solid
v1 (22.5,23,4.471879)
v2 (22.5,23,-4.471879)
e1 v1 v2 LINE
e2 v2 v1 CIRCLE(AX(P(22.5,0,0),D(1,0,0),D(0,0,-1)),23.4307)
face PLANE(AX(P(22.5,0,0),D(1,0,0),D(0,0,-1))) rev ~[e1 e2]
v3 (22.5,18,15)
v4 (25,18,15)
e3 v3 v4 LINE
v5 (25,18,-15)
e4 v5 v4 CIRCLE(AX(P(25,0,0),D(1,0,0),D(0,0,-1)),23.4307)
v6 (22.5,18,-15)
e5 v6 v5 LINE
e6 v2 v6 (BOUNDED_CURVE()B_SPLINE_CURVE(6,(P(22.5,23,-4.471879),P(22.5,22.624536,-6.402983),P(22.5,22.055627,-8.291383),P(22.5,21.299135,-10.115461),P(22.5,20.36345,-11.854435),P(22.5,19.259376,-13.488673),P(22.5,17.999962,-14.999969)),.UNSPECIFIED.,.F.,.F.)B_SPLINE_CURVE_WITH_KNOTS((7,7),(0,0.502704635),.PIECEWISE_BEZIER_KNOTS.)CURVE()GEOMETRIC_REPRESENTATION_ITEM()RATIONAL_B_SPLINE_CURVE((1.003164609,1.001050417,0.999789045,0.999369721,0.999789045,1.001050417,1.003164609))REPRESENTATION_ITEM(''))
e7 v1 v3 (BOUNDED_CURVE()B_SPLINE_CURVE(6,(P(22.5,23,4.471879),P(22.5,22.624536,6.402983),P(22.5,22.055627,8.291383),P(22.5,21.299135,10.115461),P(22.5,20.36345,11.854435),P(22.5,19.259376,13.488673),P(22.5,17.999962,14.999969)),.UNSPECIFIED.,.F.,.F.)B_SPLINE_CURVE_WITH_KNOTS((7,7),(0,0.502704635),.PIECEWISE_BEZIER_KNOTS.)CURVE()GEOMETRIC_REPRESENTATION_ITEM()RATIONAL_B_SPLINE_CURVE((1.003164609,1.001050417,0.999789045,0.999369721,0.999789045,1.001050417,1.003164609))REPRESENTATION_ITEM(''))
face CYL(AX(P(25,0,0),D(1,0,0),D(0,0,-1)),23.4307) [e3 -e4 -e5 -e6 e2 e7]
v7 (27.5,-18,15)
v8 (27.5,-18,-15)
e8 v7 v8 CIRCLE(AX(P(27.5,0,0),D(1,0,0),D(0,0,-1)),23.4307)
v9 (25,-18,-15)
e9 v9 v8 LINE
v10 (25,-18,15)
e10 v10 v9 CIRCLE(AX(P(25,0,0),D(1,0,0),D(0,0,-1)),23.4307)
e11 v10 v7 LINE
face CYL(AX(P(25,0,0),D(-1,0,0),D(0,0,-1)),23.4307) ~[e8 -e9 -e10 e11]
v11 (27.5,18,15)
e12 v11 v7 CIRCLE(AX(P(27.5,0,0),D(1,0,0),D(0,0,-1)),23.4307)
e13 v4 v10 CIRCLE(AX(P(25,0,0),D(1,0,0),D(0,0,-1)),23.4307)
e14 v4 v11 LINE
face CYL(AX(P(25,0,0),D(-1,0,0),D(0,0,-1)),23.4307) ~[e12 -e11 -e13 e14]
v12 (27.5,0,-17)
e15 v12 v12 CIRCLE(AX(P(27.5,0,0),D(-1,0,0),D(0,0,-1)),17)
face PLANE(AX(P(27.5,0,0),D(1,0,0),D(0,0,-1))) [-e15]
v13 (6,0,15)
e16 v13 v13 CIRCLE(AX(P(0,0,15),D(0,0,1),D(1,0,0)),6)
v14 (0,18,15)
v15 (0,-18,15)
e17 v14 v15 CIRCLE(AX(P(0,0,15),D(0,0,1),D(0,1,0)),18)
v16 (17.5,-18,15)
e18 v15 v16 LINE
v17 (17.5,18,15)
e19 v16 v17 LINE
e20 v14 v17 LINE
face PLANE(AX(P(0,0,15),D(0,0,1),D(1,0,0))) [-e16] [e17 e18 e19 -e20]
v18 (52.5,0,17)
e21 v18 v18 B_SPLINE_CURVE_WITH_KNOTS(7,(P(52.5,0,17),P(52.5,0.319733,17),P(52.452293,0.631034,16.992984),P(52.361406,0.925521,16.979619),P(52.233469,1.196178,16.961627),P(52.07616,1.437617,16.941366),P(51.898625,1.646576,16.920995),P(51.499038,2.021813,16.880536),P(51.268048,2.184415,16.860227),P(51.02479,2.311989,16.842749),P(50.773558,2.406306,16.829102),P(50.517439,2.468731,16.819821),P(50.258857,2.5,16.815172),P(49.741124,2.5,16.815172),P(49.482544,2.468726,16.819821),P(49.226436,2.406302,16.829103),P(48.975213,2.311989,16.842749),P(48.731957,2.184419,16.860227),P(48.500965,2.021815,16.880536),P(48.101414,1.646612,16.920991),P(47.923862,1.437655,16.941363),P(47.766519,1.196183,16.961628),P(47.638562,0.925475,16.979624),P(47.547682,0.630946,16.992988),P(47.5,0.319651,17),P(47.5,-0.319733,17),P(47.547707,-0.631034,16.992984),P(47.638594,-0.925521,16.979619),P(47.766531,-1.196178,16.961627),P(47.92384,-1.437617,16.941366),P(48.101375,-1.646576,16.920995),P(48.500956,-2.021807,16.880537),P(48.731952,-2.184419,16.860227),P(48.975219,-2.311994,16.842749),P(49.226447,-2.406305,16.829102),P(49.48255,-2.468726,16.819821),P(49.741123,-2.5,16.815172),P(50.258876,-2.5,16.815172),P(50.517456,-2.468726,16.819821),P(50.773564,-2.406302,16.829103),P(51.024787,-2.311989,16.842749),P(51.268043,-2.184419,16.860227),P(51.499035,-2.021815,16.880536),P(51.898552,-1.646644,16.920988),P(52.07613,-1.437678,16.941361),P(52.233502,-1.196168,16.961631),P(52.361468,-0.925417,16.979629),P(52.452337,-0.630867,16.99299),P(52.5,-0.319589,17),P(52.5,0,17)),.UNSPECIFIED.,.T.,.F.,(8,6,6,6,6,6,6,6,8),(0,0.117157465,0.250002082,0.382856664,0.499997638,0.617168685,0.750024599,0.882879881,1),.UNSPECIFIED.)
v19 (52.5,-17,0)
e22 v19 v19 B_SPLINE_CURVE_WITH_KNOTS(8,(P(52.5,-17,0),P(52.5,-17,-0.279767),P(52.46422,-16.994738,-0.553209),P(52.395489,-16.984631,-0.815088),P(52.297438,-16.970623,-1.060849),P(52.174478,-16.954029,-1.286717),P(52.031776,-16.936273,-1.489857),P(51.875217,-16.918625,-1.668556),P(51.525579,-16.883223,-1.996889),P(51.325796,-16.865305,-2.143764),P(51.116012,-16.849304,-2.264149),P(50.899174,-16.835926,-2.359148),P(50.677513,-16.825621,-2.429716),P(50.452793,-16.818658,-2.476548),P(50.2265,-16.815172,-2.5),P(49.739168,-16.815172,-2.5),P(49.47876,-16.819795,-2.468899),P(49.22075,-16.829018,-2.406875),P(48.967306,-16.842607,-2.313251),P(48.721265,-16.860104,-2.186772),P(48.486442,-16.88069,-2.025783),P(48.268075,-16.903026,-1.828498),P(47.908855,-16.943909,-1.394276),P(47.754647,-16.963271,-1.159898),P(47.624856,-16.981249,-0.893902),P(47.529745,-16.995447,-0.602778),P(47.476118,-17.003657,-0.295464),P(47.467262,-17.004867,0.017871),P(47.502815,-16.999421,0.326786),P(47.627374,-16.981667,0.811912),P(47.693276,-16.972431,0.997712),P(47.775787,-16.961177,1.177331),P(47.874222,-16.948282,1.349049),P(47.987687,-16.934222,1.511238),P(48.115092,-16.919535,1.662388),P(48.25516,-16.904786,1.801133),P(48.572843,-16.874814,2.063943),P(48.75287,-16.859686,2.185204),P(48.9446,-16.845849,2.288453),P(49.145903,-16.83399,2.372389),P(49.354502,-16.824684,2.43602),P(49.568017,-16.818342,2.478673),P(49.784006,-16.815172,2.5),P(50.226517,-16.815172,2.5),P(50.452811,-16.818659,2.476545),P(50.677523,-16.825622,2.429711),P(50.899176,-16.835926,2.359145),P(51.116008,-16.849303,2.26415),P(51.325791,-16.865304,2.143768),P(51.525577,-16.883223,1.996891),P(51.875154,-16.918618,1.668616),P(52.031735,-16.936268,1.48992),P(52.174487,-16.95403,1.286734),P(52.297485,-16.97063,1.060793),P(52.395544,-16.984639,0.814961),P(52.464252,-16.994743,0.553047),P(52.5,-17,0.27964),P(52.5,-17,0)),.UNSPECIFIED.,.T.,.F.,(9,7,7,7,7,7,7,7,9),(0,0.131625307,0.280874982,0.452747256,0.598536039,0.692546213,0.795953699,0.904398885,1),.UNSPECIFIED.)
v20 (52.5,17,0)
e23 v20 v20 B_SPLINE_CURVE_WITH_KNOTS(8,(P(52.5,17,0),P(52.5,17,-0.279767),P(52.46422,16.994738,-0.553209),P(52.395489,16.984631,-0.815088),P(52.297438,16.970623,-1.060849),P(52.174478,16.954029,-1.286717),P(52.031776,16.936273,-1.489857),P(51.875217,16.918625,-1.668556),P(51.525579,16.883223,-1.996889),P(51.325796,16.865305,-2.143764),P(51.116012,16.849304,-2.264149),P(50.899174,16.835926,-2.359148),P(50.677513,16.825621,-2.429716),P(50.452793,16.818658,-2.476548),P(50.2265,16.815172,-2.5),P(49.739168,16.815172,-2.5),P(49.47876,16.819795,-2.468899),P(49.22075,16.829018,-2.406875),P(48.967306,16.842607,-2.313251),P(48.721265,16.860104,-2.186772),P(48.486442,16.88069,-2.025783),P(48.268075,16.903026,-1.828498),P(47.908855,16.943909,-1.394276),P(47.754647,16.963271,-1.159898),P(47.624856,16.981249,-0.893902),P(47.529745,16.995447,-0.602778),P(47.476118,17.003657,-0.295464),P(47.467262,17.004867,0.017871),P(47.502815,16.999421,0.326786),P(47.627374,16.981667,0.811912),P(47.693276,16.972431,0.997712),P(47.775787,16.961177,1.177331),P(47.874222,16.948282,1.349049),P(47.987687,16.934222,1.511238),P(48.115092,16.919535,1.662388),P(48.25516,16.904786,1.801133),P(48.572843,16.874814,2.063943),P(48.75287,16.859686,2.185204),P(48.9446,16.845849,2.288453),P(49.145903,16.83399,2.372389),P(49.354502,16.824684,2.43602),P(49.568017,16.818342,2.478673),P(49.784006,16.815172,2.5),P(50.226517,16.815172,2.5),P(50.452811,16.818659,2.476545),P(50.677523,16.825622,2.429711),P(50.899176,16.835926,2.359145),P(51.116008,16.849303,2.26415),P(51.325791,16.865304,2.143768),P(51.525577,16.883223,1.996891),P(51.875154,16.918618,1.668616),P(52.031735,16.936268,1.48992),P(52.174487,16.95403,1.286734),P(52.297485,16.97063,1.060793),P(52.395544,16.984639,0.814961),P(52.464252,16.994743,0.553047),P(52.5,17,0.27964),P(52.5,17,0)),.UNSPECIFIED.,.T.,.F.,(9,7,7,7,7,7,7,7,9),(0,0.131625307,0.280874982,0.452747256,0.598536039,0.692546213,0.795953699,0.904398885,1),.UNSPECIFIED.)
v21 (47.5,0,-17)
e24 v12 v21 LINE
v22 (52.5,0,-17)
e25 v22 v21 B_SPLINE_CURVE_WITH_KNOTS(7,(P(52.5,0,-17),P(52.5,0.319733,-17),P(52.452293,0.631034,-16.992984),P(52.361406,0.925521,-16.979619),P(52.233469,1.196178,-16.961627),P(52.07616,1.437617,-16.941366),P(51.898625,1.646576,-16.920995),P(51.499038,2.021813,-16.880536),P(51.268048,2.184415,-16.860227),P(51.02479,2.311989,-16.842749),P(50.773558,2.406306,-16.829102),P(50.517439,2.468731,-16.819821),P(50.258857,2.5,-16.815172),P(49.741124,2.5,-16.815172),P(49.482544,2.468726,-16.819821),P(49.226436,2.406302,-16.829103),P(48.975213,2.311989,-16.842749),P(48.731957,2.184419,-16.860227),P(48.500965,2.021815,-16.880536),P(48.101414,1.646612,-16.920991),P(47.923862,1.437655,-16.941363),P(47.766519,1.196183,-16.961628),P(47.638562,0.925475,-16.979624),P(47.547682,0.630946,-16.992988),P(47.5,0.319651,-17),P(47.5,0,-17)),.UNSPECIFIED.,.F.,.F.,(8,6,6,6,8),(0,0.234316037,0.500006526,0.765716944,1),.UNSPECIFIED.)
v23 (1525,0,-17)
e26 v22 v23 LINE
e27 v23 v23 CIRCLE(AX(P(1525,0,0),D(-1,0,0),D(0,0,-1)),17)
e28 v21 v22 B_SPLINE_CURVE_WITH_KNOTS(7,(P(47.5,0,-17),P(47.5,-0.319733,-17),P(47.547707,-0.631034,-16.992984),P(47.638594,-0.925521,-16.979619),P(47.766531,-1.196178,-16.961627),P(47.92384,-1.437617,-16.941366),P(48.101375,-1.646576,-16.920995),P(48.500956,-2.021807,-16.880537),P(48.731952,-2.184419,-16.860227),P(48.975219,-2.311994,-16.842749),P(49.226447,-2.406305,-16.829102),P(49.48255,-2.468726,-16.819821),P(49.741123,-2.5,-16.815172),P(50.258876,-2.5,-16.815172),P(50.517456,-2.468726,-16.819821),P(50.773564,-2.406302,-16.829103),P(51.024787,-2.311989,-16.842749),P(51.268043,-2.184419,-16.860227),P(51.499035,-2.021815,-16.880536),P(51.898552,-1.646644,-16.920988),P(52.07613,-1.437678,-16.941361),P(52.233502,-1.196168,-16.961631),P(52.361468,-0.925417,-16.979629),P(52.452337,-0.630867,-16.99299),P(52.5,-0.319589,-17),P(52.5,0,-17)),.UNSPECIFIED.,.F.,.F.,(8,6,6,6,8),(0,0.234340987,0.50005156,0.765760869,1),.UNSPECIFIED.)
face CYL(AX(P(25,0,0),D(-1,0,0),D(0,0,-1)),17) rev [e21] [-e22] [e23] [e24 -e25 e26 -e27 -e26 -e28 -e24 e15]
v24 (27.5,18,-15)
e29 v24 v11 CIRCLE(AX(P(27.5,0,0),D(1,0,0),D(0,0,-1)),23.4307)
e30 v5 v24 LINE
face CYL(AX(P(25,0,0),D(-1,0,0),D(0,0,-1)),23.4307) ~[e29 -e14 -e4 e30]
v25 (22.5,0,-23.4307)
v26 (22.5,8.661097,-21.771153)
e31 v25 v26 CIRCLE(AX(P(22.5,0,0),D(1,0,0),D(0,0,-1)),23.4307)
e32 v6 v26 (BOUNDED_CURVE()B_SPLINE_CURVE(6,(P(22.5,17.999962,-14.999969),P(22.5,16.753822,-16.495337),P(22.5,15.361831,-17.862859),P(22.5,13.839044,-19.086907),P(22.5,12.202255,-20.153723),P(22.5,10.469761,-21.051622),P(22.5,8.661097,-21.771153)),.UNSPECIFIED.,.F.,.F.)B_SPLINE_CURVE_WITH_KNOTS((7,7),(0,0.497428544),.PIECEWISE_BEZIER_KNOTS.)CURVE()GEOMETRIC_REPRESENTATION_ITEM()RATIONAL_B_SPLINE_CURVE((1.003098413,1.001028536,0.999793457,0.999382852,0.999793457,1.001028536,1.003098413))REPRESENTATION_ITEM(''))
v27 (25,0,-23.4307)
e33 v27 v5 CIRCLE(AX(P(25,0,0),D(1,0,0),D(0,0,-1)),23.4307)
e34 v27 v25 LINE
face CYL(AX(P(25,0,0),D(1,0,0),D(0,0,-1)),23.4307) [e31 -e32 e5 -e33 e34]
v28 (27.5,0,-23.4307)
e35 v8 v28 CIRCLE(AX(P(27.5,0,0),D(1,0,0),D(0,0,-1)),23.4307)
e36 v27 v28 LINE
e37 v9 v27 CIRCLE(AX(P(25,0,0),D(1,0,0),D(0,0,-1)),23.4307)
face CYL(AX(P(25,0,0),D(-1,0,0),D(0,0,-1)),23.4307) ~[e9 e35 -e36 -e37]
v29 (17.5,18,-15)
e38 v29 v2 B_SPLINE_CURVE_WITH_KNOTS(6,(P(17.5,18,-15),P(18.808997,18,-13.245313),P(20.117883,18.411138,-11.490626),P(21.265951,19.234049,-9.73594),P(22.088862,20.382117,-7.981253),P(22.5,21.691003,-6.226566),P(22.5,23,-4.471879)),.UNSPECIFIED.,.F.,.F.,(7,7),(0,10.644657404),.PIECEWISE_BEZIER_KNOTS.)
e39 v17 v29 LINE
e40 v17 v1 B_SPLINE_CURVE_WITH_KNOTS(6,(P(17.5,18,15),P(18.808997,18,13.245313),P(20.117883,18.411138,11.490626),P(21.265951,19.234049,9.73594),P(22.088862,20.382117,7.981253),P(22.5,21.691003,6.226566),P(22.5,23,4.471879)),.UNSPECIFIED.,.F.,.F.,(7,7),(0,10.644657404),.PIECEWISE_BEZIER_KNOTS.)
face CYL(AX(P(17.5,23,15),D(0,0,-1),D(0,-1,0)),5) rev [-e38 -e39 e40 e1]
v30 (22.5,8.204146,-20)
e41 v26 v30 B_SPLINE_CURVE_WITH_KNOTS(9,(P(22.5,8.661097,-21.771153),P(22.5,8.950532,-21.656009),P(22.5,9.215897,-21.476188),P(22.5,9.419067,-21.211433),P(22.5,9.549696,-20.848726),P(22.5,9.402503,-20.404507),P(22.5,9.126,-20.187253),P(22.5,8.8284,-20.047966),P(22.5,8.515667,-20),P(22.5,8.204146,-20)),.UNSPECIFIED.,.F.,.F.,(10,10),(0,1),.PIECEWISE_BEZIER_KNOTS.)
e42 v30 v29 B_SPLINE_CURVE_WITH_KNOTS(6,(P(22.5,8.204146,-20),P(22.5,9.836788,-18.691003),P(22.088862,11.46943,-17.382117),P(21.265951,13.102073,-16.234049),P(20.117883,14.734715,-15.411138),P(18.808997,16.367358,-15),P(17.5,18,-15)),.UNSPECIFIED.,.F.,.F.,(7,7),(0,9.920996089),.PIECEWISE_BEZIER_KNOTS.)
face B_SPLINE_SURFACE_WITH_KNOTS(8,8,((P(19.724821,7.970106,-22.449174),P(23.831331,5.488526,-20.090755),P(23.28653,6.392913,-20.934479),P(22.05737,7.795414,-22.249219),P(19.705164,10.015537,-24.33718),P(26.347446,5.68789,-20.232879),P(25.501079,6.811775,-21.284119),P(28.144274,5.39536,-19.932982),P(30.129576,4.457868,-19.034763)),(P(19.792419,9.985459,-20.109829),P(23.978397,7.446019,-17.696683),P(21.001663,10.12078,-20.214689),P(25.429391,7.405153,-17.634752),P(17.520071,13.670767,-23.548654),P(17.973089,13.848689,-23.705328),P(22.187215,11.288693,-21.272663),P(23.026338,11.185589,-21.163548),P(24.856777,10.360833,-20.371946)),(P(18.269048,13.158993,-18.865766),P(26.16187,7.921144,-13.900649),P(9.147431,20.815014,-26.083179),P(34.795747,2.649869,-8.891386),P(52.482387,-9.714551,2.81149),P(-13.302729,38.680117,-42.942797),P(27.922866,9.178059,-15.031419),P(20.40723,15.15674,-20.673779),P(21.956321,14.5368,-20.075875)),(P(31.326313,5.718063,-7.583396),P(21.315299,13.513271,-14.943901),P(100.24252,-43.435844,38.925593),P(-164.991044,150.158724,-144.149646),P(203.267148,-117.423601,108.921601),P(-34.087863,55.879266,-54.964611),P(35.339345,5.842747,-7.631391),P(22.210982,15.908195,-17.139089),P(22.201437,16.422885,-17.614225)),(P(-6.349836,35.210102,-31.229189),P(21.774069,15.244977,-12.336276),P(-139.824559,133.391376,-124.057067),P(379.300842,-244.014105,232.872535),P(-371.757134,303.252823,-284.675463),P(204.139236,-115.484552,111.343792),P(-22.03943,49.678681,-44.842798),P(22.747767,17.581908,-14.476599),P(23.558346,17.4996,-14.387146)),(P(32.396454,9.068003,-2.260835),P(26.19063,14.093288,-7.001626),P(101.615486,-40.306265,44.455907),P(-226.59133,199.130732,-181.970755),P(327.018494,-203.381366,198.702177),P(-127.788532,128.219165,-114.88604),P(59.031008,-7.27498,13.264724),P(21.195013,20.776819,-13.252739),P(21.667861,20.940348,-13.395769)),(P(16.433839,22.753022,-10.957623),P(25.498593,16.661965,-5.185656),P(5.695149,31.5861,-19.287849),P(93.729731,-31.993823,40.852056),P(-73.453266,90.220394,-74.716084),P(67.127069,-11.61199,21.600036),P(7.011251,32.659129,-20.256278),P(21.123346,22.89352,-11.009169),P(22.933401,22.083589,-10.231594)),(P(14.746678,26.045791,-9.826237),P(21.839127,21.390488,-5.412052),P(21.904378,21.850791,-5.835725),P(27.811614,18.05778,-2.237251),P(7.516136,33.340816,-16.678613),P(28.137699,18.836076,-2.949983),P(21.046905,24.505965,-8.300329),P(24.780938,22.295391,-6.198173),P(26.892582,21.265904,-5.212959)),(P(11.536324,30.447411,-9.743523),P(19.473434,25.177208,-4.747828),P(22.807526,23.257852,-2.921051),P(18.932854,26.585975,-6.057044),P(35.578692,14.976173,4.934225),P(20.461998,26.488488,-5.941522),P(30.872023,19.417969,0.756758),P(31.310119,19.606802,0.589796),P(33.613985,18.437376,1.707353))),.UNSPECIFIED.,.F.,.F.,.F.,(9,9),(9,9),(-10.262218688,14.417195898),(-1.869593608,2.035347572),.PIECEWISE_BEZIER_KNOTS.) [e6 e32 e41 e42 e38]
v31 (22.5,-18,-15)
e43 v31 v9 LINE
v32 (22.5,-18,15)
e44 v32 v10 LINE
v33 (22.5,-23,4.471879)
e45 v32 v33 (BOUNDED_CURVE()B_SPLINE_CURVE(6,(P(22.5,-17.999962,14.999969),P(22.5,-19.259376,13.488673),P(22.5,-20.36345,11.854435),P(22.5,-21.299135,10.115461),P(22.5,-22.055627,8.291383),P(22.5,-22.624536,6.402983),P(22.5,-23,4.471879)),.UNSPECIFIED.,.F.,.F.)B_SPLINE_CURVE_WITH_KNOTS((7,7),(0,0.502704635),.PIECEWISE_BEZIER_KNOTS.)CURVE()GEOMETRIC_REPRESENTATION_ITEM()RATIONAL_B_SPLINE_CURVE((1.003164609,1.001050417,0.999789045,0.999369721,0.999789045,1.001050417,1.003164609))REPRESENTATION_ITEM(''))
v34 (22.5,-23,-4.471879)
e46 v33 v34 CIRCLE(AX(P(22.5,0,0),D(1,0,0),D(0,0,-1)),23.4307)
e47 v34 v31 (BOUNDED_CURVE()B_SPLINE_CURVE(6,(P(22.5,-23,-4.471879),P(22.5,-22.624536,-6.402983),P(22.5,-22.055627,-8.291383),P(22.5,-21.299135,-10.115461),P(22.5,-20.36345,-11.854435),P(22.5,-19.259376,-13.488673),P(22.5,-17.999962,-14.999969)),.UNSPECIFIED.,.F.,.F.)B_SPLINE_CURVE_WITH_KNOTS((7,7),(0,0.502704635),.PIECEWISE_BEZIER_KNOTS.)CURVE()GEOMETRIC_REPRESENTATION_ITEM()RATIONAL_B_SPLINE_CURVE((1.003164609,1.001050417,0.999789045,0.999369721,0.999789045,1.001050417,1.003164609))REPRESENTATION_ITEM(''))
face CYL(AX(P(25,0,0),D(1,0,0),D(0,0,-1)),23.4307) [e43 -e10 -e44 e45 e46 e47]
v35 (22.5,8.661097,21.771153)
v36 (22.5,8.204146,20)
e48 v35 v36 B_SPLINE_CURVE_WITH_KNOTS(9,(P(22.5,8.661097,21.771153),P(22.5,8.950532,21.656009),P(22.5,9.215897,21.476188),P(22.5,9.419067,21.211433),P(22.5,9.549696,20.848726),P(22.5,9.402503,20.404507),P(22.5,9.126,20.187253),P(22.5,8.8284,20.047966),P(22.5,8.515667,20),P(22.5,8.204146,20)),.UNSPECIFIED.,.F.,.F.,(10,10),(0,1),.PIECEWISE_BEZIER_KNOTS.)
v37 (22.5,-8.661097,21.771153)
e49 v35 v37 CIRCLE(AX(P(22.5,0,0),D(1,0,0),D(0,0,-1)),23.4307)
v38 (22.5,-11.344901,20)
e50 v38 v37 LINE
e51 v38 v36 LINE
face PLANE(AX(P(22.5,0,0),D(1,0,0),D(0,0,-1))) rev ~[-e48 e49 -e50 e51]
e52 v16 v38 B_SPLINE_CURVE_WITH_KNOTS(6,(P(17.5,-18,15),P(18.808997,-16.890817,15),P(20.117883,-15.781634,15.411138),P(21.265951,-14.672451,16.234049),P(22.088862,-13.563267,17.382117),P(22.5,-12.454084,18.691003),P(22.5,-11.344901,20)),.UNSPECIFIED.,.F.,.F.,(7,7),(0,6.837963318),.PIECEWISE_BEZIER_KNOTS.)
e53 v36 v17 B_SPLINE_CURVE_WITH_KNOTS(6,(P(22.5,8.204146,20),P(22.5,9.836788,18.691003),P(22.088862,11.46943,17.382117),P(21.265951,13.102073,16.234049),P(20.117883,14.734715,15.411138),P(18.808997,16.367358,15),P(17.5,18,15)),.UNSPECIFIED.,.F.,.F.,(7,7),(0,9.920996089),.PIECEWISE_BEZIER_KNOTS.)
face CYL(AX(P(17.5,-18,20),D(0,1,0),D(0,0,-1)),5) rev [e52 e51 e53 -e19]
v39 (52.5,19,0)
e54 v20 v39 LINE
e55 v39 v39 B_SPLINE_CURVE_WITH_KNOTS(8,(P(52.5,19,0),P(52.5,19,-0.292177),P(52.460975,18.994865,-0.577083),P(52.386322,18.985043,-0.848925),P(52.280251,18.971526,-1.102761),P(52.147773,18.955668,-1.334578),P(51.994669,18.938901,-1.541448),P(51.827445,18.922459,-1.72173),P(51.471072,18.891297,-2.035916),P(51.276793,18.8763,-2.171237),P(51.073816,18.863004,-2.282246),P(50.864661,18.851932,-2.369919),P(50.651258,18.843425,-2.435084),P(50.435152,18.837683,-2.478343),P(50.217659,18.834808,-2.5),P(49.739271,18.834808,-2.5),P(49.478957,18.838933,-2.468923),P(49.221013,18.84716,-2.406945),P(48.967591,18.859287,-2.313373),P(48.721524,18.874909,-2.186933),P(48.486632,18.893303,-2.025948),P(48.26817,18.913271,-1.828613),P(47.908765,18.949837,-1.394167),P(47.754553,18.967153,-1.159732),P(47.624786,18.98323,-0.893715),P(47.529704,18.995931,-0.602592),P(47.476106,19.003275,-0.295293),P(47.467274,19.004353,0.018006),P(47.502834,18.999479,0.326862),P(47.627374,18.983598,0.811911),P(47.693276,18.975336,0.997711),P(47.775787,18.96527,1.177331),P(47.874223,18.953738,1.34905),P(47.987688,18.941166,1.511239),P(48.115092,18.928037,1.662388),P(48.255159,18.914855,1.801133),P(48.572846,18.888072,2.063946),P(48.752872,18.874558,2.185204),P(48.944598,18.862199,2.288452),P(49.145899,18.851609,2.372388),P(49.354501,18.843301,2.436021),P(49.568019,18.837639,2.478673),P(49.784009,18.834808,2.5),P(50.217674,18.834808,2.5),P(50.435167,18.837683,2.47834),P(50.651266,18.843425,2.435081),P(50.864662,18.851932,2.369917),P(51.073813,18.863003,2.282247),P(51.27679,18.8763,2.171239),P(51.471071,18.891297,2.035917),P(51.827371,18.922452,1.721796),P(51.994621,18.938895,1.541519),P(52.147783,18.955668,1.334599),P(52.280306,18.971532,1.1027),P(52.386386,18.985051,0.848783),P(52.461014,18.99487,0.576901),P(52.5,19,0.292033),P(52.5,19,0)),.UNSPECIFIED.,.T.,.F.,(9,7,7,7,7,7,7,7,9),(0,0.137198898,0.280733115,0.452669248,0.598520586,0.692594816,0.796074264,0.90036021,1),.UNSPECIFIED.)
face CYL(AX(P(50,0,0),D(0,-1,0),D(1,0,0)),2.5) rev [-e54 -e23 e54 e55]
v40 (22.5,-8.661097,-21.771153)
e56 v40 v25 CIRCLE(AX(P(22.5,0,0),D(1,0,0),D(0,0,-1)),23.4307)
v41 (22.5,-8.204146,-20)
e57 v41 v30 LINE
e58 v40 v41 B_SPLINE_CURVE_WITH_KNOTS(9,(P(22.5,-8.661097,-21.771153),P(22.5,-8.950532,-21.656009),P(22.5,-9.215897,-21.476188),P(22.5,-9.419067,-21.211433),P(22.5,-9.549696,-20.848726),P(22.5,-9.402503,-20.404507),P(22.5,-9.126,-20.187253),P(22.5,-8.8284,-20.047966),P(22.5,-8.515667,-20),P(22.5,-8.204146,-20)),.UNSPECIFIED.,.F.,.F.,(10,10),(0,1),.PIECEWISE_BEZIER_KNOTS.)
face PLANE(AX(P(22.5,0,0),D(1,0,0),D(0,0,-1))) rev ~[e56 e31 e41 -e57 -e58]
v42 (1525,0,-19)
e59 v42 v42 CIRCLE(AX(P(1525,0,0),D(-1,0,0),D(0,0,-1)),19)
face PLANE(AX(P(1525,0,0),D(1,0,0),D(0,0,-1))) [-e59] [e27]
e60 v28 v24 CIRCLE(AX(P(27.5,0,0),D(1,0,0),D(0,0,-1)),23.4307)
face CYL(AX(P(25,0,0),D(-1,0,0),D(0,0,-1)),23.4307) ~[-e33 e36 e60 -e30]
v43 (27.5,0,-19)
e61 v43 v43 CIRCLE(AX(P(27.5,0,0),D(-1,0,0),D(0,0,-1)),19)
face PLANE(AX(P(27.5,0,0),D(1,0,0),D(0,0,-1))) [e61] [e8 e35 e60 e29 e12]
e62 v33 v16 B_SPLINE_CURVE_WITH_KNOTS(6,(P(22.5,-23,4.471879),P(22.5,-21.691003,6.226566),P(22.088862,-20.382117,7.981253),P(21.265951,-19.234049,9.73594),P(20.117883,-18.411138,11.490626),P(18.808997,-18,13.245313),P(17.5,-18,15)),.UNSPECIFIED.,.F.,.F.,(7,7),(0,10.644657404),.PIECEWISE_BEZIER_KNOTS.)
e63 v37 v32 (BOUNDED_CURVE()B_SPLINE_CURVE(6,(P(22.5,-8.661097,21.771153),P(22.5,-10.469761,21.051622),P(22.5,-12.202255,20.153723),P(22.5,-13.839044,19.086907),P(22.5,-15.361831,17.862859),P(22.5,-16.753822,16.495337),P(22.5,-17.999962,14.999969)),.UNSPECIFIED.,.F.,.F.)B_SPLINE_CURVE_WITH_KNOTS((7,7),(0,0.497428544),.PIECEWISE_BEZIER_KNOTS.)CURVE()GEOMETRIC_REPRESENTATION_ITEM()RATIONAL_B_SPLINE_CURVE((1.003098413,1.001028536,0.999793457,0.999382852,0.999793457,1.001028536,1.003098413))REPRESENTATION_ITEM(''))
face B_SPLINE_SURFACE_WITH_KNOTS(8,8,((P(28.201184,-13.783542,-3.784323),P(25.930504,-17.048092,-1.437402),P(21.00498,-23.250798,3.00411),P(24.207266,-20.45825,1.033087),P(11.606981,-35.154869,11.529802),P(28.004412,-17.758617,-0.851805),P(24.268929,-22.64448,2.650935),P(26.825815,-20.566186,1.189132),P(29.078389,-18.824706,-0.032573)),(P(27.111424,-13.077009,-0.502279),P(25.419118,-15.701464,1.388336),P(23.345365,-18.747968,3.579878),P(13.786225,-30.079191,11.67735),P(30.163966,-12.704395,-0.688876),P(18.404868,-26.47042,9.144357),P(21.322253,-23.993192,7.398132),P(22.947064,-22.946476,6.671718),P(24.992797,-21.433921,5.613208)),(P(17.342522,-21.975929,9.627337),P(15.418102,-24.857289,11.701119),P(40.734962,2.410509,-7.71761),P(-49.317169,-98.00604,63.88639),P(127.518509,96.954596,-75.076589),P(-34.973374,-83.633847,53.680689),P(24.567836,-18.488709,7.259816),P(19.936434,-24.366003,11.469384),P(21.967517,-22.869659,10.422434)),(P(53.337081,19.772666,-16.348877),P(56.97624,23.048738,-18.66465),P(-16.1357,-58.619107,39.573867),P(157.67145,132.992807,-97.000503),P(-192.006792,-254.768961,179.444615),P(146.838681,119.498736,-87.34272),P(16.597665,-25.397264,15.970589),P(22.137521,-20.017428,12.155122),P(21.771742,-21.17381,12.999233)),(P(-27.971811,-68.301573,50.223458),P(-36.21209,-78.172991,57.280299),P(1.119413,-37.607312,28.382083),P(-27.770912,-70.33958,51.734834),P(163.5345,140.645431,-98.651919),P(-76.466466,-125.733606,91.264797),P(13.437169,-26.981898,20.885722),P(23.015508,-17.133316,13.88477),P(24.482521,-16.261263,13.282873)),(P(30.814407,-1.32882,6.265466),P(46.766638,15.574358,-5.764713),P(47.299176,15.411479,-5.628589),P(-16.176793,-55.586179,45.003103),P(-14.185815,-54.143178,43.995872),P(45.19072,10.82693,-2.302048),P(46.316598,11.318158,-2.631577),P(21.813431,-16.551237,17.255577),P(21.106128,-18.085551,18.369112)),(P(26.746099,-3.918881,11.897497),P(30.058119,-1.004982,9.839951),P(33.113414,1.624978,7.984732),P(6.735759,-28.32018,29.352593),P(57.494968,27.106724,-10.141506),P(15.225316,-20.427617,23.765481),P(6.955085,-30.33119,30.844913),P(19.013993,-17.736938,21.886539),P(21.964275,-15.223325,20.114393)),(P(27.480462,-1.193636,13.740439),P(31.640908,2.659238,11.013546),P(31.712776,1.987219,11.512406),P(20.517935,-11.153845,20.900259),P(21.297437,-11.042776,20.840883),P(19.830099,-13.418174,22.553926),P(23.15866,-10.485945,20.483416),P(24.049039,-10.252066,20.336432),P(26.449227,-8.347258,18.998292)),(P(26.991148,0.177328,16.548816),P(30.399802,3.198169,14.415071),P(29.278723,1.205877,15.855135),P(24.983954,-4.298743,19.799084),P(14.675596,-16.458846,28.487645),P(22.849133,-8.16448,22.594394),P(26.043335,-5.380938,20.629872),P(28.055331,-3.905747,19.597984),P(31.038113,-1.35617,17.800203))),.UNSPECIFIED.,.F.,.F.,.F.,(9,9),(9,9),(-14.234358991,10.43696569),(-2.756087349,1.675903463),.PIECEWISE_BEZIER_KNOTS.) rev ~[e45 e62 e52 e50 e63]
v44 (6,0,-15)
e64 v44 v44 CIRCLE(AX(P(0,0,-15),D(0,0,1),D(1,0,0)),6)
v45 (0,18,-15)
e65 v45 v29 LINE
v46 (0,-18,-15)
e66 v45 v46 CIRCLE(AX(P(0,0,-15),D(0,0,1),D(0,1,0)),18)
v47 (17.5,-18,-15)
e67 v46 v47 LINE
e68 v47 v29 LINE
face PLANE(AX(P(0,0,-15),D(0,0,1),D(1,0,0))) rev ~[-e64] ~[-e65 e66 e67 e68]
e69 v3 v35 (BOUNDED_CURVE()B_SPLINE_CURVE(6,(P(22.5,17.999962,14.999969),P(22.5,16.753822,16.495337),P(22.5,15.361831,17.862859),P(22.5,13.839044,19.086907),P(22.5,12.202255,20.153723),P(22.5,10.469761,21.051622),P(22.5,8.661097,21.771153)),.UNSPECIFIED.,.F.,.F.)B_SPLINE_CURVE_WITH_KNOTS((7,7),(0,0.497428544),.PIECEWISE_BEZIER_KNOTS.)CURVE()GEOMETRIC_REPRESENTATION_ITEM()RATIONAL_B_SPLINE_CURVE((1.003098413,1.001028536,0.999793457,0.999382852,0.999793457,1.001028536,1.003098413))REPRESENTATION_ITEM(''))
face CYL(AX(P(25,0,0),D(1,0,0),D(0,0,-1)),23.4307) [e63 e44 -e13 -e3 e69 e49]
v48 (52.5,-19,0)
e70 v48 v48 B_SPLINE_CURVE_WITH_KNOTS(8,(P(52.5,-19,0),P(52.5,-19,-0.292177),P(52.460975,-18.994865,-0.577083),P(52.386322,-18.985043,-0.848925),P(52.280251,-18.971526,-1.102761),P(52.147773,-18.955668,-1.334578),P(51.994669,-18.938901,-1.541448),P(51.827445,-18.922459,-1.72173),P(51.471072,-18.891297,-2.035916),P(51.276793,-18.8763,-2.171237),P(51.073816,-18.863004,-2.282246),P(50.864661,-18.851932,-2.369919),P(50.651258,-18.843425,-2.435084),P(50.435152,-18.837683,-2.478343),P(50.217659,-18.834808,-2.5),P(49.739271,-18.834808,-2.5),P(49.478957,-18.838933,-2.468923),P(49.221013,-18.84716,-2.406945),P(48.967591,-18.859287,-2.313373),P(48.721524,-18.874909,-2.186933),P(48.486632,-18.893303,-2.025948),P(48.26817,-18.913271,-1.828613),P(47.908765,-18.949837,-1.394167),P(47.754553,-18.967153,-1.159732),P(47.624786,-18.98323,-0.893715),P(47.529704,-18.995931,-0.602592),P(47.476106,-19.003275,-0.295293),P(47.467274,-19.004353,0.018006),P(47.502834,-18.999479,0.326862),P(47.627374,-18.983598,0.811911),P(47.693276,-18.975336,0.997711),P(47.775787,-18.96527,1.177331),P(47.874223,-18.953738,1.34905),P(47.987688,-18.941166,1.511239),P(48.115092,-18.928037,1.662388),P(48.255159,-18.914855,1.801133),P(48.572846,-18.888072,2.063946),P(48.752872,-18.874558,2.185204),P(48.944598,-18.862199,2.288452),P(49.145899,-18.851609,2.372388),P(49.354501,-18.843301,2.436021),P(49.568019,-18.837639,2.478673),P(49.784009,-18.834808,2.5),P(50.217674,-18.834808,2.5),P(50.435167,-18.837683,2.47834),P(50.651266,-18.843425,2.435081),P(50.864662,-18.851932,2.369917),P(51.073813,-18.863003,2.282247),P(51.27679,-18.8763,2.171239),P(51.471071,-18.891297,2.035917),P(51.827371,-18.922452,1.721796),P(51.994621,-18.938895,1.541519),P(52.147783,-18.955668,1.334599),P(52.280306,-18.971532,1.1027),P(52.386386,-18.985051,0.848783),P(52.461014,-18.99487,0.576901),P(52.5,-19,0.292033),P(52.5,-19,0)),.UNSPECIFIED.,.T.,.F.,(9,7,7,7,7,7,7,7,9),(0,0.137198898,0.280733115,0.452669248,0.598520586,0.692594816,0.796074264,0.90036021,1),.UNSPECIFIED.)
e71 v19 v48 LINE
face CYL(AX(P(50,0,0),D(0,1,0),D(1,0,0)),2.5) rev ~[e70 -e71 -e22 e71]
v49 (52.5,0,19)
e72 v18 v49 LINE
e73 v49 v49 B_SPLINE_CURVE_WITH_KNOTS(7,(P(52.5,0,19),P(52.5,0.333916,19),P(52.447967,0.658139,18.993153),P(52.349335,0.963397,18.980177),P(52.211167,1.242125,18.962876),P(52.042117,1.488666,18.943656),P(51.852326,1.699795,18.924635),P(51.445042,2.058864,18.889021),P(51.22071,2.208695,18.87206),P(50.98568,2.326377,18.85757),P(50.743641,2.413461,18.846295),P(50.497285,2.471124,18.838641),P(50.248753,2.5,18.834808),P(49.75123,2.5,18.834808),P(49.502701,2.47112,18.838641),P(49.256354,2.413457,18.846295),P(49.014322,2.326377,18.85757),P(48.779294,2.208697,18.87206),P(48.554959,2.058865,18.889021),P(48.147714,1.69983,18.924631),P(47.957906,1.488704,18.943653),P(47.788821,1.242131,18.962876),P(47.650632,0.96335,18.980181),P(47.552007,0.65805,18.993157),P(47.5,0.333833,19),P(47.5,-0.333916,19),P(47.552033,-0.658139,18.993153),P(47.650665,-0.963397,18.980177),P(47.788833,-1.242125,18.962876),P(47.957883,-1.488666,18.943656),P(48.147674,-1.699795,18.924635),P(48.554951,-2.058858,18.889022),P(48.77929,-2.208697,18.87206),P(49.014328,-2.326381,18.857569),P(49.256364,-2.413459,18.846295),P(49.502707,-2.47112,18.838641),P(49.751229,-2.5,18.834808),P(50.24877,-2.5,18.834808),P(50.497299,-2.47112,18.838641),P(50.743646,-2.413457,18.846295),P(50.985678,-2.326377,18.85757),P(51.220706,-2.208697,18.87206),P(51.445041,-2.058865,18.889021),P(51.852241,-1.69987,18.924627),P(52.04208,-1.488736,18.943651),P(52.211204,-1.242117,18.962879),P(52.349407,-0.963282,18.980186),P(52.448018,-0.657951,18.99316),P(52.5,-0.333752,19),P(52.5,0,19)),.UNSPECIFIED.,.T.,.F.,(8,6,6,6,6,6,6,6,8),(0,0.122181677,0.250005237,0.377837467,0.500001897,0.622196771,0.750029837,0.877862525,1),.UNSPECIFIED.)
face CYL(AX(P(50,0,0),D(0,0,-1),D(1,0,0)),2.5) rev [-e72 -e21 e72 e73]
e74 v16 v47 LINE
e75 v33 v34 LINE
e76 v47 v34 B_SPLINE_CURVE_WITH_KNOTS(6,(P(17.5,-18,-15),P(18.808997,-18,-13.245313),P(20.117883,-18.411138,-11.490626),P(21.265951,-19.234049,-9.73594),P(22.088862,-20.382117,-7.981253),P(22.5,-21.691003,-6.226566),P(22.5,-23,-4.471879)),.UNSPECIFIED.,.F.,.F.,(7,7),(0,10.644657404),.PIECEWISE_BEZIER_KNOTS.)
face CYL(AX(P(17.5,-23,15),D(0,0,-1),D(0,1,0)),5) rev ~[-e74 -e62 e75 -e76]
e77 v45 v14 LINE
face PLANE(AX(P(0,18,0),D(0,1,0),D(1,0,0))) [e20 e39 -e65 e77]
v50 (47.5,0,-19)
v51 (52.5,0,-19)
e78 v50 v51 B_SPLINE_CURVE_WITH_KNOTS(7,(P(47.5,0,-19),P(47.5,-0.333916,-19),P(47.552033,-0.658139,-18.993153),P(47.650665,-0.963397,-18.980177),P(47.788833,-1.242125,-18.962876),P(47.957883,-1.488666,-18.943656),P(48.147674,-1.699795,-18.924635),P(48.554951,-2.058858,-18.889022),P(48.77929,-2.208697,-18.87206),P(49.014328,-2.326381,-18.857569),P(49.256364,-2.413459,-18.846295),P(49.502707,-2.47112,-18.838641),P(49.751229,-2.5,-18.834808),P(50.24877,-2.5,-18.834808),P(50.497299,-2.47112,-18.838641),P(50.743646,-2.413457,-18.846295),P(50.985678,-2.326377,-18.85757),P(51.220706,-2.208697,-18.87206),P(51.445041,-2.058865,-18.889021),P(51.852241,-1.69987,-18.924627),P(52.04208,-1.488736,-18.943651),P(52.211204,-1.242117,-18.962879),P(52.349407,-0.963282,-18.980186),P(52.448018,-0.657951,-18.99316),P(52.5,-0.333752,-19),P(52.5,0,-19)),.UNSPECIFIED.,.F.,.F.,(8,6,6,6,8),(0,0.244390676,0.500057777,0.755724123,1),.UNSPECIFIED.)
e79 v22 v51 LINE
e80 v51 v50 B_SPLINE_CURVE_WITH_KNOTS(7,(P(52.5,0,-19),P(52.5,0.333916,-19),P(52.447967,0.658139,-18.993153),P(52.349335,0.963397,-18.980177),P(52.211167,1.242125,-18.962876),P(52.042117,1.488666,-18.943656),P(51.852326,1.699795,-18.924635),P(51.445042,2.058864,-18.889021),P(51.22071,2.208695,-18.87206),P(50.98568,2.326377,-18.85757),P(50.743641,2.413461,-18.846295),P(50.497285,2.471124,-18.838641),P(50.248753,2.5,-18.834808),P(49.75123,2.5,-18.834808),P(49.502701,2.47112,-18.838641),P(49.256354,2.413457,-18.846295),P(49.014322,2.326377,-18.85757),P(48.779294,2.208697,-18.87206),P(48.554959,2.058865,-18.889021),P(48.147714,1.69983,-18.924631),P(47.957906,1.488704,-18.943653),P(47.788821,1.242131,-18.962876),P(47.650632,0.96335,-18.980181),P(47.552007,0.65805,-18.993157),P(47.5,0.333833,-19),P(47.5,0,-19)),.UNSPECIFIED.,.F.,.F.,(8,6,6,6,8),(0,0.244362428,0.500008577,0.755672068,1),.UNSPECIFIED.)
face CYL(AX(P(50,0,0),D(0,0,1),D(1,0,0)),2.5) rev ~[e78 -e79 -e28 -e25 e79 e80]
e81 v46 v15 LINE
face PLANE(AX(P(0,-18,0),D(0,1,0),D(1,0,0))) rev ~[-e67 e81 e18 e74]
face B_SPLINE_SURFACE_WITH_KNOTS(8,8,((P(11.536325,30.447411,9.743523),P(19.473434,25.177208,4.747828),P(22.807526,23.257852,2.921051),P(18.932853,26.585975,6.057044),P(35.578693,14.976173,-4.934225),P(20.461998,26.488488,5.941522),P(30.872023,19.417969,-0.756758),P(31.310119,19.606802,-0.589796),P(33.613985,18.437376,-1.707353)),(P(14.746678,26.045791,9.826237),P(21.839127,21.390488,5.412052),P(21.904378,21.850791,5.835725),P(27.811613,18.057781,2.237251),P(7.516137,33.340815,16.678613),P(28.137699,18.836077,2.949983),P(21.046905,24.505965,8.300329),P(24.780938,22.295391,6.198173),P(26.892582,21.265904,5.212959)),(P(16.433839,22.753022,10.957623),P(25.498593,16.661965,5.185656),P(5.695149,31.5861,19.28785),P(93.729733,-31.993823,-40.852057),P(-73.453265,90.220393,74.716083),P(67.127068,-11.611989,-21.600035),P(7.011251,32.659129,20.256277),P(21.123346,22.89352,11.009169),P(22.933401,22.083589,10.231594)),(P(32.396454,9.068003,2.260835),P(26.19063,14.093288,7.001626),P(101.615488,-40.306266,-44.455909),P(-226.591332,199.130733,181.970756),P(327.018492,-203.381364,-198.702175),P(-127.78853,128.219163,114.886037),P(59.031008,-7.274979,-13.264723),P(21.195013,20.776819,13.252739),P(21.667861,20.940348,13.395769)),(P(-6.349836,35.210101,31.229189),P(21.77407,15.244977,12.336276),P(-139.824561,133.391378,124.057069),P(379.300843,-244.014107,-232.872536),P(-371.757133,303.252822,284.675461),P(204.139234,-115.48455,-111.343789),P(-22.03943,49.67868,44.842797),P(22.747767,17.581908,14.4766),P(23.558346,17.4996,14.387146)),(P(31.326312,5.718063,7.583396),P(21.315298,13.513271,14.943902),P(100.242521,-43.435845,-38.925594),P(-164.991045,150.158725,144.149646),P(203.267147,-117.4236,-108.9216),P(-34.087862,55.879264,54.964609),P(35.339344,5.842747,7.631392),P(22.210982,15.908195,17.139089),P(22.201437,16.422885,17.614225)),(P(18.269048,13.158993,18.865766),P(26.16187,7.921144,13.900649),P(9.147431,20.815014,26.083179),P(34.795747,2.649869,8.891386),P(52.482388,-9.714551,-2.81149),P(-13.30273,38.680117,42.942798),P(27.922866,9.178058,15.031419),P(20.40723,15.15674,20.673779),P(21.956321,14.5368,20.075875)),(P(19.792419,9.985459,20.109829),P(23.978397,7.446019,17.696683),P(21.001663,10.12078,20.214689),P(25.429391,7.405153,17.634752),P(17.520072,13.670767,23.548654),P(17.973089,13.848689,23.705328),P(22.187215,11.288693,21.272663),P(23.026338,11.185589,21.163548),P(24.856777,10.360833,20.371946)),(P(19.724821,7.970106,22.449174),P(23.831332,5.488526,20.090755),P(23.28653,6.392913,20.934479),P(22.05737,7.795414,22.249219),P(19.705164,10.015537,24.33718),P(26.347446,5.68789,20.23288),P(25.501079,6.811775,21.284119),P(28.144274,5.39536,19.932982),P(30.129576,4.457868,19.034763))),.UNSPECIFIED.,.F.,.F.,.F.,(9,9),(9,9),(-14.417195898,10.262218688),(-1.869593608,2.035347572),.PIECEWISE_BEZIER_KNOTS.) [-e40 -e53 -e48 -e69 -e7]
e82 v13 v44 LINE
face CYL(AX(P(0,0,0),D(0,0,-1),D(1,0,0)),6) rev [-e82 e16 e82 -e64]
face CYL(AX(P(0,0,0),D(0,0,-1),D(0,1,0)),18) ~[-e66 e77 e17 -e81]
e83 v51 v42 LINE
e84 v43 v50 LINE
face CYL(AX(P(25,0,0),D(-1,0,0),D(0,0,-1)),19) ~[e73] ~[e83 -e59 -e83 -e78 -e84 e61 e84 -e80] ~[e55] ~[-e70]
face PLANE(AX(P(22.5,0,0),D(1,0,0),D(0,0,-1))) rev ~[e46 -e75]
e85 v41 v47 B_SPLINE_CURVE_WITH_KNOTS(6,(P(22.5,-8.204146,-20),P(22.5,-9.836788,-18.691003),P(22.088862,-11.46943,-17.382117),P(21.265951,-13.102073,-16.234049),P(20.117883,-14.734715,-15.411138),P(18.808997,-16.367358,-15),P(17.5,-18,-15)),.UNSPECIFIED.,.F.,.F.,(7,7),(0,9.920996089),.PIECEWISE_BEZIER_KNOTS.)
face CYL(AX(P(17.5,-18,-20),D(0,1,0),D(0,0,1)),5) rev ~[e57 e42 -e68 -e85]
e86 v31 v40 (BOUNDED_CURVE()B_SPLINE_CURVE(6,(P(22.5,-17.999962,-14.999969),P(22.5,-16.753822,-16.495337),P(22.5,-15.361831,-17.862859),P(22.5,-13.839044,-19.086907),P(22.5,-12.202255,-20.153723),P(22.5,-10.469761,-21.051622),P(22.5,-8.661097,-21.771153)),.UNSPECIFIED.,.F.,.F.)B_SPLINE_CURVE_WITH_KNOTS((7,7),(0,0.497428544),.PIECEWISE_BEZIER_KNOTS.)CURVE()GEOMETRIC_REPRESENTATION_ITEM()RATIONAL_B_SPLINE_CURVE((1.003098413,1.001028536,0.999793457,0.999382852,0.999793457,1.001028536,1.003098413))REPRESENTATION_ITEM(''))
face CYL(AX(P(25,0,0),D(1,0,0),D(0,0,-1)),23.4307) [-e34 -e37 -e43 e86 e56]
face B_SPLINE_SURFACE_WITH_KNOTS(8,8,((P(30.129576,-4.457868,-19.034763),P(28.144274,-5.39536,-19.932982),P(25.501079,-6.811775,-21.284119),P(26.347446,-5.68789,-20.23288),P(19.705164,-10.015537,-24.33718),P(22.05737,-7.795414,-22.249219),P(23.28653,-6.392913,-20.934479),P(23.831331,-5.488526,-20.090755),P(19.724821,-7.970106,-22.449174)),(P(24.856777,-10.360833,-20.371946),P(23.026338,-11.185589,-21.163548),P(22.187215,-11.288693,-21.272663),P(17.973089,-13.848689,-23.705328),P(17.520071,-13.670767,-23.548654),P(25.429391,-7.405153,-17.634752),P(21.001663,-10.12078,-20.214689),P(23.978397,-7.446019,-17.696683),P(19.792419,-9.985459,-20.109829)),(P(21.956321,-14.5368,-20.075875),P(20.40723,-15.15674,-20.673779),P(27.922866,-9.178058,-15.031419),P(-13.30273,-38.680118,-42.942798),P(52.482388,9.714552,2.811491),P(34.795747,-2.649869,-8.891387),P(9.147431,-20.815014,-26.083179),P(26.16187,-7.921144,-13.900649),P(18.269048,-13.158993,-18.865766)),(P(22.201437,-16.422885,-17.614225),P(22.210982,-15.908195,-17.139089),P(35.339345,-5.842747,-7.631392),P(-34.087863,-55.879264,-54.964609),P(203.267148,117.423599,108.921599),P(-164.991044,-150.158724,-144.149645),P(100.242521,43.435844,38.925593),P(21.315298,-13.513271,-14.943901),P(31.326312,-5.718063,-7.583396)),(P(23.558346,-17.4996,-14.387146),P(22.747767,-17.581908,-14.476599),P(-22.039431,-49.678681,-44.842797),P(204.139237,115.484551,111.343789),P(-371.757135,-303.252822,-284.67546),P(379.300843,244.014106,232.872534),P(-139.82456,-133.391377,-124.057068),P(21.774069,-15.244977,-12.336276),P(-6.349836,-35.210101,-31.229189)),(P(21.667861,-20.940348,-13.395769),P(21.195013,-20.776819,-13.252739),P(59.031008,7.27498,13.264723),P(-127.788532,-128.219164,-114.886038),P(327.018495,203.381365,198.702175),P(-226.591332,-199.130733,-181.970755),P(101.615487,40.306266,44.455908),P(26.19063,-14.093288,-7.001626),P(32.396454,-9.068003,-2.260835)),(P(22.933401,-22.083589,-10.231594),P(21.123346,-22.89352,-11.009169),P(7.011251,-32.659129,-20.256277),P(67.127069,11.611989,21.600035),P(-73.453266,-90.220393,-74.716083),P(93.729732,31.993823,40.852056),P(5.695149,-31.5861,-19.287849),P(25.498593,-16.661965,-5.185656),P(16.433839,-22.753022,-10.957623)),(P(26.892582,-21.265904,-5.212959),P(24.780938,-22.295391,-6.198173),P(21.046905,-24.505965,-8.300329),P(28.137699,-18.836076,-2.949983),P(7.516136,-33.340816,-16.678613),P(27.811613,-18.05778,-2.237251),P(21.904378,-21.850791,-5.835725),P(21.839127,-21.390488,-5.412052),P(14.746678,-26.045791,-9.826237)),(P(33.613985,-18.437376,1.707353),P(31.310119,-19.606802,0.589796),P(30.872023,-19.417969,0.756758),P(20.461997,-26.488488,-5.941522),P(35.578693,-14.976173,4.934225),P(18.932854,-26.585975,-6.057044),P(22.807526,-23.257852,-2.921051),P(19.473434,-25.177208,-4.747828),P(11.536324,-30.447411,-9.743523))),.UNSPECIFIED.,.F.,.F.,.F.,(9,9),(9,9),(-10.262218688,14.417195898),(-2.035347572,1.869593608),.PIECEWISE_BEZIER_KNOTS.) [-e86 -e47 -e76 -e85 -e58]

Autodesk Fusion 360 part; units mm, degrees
sketch "Sketch1" plane through (0, 0, 0) normal (0, 0, 1) x (1, 0, 0)
  circle A0 centre (0, 0) radius 6
  line L0 (0, 0) -> (0, 49.4759) construction
  line L1 (0, 0) -> (0, -54.6862) construction
  arc A1 (0, 18) -> (0, -18) centre (0, 0) ccw
  line L2 (0, 18) -> (25, 18)
  line L3 (0, -18) -> (25, -18)
  line L4 (25, 18) -> (25, -18)
  dimension "d1" = 36
  dimension "d2" = 12
  dimension "d4" = 25
  dimension "d5" = 25
extrude "Extrude1" add sketch "Sketch1" along normal mid plane 30
sketch "Sketch2" plane through (25, 0, 0) normal (1, 0, 0) x (0, 0, -1)
  line L0 (15, 18) -> (-15, 18)
  line L1 (-15, 18) -> (-15, -18)
  line L2 (-15, -18) -> (15, -18)
  line L3 (15, -18) -> (15, 18)
  circle A0 centre (0, 0) radius 19
  circle A1 centre (0, 0) radius 17
  dimension "d8" = 38
  dimension "d9" = 34
extrude "Extrude2" add sketch "Sketch2" along normal blind 1500 contours L0 L1 L3 A0 A1 | L0 A0 | L3 A0 A1 | L1 A0 A1 | L1 L2 L3 A0 A1 | L2 A0
ref_plane "WorkPlane1" through (25, 0, 0) normal (1, 0, 0) x (0, 1, 0)
sketch "Sketch3" plane through (25, 0, 0) normal (1, 0, 0) x (0, 0, -1)
  line L0 (-6.0828, 18) -> (-15, 18)
  line L1 (-15, 11.6619) -> (-15, 18)
  line L2 (15, 18) -> (6.0828, 18)
  line L3 (15, 18) -> (15, 11.6619)
  line L4 (-6.0828, -18) -> (-15, -18)
  line L5 (-15, -18) -> (-15, -11.6619)
  line L6 (15, -18) -> (6.0828, -18)
  line L7 (15, -11.6619) -> (15, -18)
  circle A0 centre (0, 0) radius 23.4307
extrude "Extrude3" add sketch "Sketch3" along normal mid plane 5
fillet "Fillet1" radius 5 4 edges at (22.5, 18, 0) (22.5, 0, 15) (22.5, -18, 0) (22.5, 0, -15)
sketch "Sketch4" plane through (0, 0, 0) normal (0, 1, 0) x (1, 0, 0)
  line L0 (0, 0) -> (50, 0) construction
  circle A0 centre (50, 0) radius 2.5
  dimension "d16" = 50
  dimension "d17" = 5
extrude "Extrude4" cut sketch "Sketch4" along normal through all and the other way through all
sketch "Sketch5" plane through (0, 0, 0) normal (0, 0, 1) x (1, 0, 0)
  line L0 (0, 0) -> (50, 0) construction
  circle A0 centre (50, 0) radius 2.5
  dimension "d20" = 50
  dimension "d21" = 5
extrude "Extrude5" cut sketch "Sketch5" along normal through all and the other way through all
equation "d1 = ( 18 * 2 ) * 1 mm"
